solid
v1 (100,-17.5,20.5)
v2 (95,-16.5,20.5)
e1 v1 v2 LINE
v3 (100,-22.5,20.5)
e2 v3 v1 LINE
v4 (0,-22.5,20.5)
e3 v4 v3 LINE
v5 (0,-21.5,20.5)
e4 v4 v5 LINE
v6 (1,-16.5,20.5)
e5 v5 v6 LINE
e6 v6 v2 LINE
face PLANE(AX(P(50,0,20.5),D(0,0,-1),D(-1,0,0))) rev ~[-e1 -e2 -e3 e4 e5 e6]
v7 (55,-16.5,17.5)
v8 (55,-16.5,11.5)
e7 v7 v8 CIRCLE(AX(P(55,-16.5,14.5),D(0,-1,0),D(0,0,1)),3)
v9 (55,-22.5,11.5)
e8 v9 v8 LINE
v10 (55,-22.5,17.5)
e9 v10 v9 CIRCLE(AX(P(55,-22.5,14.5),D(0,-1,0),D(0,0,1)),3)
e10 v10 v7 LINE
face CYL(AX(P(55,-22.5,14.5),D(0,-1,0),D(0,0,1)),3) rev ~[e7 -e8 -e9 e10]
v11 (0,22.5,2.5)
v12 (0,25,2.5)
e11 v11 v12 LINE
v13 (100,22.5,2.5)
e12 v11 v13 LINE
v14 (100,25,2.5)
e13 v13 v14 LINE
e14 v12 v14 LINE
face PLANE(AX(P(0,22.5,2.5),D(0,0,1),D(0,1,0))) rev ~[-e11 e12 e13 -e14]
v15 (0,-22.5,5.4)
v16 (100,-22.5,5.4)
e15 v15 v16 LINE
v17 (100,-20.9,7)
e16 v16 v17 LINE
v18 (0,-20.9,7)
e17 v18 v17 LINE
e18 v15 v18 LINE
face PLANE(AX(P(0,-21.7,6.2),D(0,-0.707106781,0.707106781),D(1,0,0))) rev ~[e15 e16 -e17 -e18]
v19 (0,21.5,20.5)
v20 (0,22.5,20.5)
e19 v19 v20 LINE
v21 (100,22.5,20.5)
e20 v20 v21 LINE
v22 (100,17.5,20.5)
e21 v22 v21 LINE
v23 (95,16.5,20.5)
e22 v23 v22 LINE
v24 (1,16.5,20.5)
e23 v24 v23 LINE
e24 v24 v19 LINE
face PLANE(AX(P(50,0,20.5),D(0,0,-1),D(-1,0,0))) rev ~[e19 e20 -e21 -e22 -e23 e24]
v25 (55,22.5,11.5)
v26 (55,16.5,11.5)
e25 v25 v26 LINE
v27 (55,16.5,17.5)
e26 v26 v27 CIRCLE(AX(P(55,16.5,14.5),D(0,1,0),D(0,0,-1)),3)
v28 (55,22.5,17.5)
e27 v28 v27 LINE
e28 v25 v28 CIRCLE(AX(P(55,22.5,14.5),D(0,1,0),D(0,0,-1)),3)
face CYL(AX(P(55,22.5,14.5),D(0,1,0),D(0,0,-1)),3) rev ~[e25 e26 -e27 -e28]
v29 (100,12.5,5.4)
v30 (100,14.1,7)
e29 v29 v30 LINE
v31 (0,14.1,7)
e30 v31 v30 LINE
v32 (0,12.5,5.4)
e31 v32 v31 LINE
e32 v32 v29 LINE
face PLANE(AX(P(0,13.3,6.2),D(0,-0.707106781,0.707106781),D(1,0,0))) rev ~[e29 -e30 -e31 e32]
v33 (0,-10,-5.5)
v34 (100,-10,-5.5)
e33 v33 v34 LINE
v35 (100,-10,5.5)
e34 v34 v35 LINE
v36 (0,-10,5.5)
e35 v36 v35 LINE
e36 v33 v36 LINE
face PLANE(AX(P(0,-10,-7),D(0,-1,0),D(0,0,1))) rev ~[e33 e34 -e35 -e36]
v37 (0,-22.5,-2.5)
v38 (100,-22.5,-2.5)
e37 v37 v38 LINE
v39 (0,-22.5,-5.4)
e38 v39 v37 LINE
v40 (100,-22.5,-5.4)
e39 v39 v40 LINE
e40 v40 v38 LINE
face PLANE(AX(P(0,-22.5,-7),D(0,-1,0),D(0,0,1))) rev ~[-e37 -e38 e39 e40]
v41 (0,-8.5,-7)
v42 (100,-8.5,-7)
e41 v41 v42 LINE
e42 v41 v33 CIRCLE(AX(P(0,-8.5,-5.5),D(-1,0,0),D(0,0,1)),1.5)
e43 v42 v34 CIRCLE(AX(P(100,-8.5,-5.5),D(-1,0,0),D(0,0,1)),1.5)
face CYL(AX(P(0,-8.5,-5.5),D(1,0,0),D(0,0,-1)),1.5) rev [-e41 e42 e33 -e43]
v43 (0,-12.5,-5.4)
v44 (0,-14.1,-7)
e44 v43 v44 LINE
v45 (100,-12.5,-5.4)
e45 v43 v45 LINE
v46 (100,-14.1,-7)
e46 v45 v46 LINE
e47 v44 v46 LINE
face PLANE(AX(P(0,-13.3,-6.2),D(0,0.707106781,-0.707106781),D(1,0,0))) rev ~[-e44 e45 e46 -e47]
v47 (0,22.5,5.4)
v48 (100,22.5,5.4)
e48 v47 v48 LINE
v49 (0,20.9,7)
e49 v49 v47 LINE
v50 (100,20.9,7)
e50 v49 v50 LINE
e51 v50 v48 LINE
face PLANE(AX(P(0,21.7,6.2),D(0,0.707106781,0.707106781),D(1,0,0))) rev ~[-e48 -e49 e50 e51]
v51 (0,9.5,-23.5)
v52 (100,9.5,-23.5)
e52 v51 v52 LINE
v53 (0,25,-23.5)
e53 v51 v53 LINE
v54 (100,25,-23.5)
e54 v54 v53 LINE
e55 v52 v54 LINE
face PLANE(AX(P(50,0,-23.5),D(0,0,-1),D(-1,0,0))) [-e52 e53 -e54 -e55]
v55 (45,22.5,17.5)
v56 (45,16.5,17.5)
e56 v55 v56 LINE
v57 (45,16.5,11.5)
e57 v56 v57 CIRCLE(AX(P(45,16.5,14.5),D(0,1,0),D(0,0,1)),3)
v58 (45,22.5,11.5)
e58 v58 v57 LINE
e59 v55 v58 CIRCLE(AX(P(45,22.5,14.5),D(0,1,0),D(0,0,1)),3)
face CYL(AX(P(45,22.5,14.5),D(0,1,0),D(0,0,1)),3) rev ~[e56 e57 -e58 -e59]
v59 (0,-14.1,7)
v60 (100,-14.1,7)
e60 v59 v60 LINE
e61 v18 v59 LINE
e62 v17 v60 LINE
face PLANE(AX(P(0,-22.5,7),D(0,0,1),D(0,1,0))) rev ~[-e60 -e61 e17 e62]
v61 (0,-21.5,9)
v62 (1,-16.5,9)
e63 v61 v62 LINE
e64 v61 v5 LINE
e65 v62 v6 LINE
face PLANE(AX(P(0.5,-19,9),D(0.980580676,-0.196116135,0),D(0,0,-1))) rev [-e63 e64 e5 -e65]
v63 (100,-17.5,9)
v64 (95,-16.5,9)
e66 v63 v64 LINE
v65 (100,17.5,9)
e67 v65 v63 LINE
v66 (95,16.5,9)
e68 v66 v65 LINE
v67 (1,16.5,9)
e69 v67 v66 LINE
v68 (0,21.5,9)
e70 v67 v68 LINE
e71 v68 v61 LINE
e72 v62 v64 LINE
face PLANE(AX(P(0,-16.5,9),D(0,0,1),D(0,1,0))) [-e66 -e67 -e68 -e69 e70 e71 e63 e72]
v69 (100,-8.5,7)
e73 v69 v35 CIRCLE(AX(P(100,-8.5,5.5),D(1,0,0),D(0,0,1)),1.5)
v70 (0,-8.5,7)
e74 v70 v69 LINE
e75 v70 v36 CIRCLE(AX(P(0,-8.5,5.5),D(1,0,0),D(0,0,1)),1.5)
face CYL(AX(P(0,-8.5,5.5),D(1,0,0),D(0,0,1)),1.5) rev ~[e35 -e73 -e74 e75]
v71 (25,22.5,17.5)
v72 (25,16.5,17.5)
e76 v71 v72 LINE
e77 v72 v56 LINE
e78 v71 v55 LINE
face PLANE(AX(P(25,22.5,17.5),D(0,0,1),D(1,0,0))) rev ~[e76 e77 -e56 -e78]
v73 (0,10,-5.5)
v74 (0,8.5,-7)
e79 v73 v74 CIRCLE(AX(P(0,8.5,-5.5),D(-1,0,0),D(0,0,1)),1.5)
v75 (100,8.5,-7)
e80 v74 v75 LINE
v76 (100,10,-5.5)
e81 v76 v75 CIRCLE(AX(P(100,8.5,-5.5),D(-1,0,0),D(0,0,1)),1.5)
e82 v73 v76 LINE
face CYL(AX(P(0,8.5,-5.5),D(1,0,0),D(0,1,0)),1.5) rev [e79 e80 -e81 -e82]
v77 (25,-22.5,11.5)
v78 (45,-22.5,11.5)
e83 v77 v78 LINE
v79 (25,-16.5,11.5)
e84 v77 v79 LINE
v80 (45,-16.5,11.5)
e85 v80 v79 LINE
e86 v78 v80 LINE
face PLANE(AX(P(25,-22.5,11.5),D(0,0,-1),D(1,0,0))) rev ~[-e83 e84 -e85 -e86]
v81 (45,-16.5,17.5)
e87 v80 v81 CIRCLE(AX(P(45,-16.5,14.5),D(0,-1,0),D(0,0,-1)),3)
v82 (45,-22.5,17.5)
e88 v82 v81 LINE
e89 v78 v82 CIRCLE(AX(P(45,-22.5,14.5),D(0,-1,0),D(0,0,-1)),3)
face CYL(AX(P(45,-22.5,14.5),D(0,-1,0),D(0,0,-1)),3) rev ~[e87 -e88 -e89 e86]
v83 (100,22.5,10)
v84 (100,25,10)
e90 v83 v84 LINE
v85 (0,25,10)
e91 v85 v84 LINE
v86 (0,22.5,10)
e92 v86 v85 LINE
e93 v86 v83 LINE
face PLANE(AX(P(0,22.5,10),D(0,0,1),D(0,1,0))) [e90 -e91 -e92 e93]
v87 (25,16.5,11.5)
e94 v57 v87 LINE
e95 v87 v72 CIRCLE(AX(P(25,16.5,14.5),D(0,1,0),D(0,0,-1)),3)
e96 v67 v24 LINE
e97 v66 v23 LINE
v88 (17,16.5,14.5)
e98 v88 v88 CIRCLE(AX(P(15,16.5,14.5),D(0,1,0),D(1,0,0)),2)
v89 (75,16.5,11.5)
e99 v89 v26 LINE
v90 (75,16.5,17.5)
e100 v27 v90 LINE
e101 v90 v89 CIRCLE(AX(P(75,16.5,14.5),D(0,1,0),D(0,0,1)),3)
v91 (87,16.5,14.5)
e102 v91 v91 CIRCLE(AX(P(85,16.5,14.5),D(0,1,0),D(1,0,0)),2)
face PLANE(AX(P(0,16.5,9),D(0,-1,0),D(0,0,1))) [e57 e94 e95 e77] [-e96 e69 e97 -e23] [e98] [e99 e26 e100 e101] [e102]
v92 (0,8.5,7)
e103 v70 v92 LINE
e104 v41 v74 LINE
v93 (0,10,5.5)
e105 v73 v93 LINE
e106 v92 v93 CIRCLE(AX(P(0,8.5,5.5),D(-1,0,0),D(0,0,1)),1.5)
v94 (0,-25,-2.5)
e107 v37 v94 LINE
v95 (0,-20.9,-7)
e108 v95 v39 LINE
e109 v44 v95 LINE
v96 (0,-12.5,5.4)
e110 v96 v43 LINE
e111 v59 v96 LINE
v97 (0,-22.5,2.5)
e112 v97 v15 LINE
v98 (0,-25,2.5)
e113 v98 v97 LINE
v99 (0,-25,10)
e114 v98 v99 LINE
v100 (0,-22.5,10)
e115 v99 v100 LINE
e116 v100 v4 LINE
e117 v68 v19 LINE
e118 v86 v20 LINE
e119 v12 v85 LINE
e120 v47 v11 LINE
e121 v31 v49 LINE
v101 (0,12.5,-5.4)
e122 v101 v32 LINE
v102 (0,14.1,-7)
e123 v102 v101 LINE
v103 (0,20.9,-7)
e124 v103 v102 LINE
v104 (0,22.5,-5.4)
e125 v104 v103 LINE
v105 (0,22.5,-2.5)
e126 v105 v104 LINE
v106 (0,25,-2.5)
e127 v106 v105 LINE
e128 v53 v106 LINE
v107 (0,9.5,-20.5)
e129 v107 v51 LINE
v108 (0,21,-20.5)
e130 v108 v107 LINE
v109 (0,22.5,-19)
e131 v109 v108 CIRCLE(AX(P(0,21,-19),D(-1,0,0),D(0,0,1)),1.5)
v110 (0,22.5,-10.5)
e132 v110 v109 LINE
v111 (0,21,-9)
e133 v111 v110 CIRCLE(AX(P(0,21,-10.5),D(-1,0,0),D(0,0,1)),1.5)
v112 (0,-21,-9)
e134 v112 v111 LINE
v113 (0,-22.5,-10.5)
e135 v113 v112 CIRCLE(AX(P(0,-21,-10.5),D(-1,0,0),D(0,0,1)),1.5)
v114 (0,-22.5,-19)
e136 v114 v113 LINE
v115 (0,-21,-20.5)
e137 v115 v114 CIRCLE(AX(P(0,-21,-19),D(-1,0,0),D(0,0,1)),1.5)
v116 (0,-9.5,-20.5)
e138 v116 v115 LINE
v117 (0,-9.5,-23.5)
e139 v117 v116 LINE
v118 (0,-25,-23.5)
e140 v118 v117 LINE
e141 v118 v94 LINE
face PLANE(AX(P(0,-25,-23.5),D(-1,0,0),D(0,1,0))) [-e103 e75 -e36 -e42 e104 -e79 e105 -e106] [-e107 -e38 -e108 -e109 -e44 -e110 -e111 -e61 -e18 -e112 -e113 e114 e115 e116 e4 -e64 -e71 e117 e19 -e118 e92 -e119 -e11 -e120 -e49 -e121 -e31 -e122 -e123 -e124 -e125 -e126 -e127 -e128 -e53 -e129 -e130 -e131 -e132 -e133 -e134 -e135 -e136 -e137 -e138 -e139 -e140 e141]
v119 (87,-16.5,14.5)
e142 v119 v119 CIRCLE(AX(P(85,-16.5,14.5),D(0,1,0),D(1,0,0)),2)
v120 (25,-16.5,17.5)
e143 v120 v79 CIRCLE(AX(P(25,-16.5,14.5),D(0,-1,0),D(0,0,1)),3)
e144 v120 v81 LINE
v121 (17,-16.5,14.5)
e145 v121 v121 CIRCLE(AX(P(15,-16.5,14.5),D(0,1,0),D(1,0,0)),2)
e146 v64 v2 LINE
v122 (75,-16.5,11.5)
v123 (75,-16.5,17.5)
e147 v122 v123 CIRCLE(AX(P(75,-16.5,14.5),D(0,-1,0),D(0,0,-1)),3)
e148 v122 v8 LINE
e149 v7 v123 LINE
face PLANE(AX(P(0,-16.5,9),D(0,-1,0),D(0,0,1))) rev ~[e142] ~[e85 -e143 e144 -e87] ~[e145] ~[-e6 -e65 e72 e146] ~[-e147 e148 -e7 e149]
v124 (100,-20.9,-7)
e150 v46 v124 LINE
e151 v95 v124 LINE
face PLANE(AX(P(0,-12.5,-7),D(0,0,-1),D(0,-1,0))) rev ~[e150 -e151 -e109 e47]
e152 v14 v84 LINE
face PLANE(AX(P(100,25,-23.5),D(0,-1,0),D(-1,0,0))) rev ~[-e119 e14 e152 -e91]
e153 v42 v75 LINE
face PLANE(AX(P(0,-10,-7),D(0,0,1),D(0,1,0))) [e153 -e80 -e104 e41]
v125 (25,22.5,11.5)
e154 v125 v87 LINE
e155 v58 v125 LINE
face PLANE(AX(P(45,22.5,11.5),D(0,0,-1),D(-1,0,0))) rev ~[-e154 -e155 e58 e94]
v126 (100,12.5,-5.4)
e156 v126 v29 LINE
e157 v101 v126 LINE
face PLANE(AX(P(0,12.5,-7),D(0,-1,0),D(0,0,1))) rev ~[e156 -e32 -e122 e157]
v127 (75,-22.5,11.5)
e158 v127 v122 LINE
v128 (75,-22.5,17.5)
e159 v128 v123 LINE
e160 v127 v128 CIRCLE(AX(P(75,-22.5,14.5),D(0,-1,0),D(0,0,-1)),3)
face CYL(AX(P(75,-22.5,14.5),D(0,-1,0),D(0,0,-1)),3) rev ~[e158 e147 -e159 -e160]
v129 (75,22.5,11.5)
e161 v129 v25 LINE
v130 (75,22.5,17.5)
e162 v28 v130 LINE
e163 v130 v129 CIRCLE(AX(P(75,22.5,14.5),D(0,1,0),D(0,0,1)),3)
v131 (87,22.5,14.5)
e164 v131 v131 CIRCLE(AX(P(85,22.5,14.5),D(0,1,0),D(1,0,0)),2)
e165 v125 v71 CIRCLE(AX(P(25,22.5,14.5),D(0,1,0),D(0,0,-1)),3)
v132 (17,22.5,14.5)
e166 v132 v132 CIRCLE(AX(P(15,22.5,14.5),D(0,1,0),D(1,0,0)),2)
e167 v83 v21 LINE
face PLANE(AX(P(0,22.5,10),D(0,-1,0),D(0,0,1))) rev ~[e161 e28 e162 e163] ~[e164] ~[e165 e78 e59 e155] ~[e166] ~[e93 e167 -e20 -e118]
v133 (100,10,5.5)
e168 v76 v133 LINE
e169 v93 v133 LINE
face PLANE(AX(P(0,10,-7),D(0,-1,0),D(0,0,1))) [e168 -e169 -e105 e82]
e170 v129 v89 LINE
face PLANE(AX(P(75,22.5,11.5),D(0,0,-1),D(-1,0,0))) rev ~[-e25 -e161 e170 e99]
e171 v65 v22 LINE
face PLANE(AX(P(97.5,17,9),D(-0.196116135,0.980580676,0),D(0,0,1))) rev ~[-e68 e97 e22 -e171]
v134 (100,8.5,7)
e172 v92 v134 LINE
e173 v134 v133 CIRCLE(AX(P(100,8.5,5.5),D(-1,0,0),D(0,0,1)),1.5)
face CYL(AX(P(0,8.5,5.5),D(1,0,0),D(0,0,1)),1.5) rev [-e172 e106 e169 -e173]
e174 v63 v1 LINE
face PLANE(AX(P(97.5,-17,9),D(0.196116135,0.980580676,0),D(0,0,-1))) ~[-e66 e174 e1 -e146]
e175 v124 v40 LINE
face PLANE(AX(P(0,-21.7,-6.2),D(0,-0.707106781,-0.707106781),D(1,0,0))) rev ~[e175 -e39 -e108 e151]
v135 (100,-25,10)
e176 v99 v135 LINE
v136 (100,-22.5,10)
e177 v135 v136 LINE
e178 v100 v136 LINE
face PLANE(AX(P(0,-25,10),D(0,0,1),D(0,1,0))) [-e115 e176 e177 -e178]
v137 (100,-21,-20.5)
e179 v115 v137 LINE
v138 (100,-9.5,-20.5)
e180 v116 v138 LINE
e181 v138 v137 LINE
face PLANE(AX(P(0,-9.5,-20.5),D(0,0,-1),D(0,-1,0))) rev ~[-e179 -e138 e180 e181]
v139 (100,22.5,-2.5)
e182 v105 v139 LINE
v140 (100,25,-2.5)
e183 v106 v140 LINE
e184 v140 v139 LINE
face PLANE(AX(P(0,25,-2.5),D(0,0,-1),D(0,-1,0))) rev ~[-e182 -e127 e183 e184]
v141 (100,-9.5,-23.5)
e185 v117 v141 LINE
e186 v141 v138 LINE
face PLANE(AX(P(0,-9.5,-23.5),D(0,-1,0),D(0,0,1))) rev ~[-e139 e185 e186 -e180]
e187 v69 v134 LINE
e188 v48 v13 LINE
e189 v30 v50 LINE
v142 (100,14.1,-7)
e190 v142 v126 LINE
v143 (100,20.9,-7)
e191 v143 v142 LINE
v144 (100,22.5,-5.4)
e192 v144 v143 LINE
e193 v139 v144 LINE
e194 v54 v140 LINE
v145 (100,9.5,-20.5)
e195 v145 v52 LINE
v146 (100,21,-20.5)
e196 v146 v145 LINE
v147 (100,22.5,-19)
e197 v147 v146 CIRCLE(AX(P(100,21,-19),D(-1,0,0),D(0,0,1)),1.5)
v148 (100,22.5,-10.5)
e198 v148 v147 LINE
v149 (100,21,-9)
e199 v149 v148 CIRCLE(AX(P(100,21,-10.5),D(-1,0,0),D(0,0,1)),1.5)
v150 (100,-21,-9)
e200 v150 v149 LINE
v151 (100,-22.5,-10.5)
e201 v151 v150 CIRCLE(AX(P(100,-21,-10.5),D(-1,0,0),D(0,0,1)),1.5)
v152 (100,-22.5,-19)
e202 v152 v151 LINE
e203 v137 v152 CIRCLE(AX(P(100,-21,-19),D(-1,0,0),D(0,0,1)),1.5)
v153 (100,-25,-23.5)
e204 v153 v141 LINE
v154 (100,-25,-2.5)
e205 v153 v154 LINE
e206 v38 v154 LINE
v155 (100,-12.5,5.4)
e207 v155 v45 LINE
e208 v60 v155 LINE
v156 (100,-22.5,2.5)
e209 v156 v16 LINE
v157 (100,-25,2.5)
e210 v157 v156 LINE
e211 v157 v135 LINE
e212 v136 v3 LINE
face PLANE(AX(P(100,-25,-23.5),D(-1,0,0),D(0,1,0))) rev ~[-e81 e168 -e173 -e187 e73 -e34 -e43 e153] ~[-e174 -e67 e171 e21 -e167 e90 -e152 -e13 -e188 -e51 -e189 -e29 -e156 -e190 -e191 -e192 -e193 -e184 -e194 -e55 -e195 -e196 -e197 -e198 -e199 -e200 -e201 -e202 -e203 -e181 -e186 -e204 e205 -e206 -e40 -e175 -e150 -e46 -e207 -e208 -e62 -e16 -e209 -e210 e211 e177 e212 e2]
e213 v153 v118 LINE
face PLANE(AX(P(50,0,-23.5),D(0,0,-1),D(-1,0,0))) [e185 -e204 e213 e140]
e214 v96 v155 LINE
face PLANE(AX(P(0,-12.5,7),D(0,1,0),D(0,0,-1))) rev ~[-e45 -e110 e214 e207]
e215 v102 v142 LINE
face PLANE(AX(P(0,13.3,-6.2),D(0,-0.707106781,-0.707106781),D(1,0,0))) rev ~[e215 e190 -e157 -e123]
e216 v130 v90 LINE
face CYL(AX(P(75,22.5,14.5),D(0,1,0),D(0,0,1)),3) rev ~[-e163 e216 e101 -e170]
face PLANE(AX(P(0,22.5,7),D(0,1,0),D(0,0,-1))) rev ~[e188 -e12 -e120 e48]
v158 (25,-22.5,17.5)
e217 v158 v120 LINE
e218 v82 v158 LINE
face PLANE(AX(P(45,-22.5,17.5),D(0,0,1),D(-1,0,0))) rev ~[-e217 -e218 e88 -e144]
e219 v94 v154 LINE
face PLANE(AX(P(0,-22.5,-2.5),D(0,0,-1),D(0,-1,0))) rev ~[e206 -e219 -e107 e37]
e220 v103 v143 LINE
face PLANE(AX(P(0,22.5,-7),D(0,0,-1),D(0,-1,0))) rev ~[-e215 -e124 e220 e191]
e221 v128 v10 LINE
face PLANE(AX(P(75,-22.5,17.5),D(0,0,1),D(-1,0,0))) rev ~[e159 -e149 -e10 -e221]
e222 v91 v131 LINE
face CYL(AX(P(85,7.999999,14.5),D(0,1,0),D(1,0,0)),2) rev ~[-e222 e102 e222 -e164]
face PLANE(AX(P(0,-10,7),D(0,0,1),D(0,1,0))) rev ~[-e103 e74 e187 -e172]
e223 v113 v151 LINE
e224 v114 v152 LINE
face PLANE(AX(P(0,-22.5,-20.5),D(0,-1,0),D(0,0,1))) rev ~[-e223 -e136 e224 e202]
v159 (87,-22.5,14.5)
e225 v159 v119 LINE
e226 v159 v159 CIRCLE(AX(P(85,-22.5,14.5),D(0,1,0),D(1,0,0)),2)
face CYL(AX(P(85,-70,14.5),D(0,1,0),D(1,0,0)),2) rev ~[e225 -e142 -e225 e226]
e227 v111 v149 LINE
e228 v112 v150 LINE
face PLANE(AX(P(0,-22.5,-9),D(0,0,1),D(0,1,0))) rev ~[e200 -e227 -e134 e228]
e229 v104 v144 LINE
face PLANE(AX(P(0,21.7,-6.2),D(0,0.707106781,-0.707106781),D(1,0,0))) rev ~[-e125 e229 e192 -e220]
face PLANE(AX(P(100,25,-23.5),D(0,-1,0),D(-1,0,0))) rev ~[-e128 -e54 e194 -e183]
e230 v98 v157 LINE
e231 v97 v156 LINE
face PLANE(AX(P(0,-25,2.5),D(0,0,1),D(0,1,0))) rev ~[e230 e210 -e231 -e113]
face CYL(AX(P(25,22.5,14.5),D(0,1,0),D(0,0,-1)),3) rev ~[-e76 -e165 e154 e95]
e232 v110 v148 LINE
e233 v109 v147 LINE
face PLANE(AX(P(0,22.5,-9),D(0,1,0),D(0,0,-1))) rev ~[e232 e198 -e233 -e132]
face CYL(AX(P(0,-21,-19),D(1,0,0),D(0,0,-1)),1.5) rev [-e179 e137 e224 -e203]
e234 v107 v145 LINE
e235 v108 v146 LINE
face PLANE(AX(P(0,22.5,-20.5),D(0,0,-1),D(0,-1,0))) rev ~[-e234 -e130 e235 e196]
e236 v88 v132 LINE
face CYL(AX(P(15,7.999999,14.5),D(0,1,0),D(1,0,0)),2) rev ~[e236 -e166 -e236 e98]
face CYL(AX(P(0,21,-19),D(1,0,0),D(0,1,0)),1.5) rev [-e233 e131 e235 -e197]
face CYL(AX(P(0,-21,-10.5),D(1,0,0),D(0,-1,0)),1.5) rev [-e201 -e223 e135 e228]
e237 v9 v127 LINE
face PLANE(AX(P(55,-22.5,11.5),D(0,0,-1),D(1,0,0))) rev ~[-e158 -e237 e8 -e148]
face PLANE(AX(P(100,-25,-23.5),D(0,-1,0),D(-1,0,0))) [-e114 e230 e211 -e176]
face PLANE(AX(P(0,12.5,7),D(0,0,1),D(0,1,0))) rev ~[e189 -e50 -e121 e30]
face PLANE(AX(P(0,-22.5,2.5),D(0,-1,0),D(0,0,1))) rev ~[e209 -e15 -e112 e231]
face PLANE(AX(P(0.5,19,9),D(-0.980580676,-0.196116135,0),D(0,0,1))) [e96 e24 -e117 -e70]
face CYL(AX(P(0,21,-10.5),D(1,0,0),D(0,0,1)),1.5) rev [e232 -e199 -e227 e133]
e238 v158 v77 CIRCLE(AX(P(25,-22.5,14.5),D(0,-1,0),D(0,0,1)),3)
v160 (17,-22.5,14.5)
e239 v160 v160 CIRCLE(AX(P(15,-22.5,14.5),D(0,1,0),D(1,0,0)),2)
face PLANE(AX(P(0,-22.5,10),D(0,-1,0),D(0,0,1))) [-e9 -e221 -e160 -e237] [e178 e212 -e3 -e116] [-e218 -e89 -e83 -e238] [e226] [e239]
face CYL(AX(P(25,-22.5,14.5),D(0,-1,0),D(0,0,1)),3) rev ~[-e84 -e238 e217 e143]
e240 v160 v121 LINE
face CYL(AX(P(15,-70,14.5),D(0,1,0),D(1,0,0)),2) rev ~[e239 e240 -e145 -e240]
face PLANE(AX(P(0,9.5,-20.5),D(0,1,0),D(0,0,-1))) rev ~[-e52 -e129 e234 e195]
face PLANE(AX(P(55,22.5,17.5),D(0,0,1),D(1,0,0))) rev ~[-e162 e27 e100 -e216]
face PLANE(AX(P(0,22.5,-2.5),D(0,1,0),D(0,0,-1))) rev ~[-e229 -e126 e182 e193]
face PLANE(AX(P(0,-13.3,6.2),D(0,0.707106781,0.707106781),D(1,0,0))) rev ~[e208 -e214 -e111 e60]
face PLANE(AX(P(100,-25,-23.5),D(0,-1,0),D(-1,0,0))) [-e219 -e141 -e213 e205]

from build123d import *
from OCP.BRepFilletAPI import BRepFilletAPI_MakeChamfer

# Parameters (mm, degrees)
SCHIZZO1_W                   = 100
SCHIZZO1_H                   = 50
ESTRUSIONE_ESTRUSIONE1_DEPTH = 44
SCHIZZO2_W                   = 10.499999851
SCHIZZO2_H                   = 2.500000367
TAGLIO_ESTRUSIONE1_DEPTH     = 106.722514159
TAGLIO_ESTRUSIONE2_DEPTH     = 106.722514247
TAGLIO_ESTRUSIONE3_DEPTH     = 106.722514247
TAGLIO_ESTRUSIONE4_DEPTH     = 106.722514247
SCHIZZO6_W                   = 10.499999851
SCHIZZO6_H                   = 2.500000367
TAGLIO_ESTRUSIONE5_DEPTH     = 106.722514247
SCHIZZO7_W                   = 11.49999996
SCHIZZO7_H                   = 32.999999858
TAGLIO_ESTRUSIONE6_DEPTH     = 106.722514247
TAGLIO_ESTRUSIONE7_REACH     = 115.175
TAGLIO_ESTRUSIONE8_REACH     = 115.175
TAGLIO_ESTRUSIONE9_REACH     = 115.175
TAGLIO_ESTRUSIONE10_REACH    = 115.175
SCHIZZO12_W                  = 14.000000092
SCHIZZO12_H                  = 20
TAGLIO_ESTRUSIONE11_DEPTH    = 106.722514247
FORO_4_0_4_1_D               = 4
FORO_4_0_4_1_DEPTH           = 8.500000443
FORO_4_0_4_2_D               = 4
FORO_4_0_4_2_DEPTH           = 47.500000379
SMUSSO1_SIZE                 = 5
SMUSSO1_SIZE2                = 1
SMUSSO2_SIZE                 = 1.6
SMUSSO3_SIZE                 = 1
SMUSSO3_SIZE2                = 5
RACCORDO1_R                  = 1.5


with BuildPart() as part:
    # Schizzo1 → Estrusione-Estrusione1 (new body)
    with BuildSketch(Plane(origin=(0, 0, -23.5), x_dir=(-1, 0, 0), z_dir=(0, 0, -1))):
        with Locations((-50, 0)):
            Rectangle(SCHIZZO1_W, SCHIZZO1_H)
    extrude(amount=-ESTRUSIONE_ESTRUSIONE1_DEPTH)

    # Schizzo2 → Taglio-Estrusione1 (cut, through all)
    with BuildSketch(Plane.ZY):
        with Locations((15.250000075, -23.750000189)):
            Rectangle(SCHIZZO2_W, SCHIZZO2_H)
    extrude(amount=-TAGLIO_ESTRUSIONE1_DEPTH, mode=Mode.SUBTRACT)

    # Schizzo3 → Taglio-Estrusione2 (cut, through all)
    with BuildSketch(Plane.ZY):
        Polygon((-2.5, -25), (2.5, -25), (2.5, -22.5), (7, -22.5), (7, -12.5), (-7, -12.5), (-7, -22.5), (-2.5, -22.5), align=None)
    extrude(amount=-TAGLIO_ESTRUSIONE2_DEPTH, mode=Mode.SUBTRACT)

    # Schizzo4 → Taglio-Estrusione3 (cut, through all)
    with BuildSketch(Plane.ZY):
        Polygon((-23.5, 9.5), (-23.5, -9.5), (-20.5, -9.5), (-20.5, -22.5), (-9, -22.5), (-9, 22.5), (-20.5, 22.5), (-20.5, 9.5), align=None)
    extrude(amount=-TAGLIO_ESTRUSIONE3_DEPTH, mode=Mode.SUBTRACT)

    # Schizzo5 → Taglio-Estrusione4 (cut, through all)
    with BuildSketch(Plane.ZY):
        Polygon((2.5, 25), (-2.5, 25), (-2.5, 22.5), (-7, 22.5), (-7, 12.5), (7, 12.5), (7, 22.5), (2.5, 22.5), align=None)
    extrude(amount=-TAGLIO_ESTRUSIONE4_DEPTH, mode=Mode.SUBTRACT)

    # Schizzo6 → Taglio-Estrusione5 (cut, through all)
    with BuildSketch(Plane.ZY):
        with Locations((15.250000075, 23.750000189)):
            Rectangle(SCHIZZO6_W, SCHIZZO6_H)
    extrude(amount=-TAGLIO_ESTRUSIONE5_DEPTH, mode=Mode.SUBTRACT)

    # Schizzo7 → Taglio-Estrusione6 (cut, through all)
    with BuildSketch(Plane.ZY):
        with Locations((14.75000002, 0)):
            Rectangle(SCHIZZO7_W, SCHIZZO7_H)
    extrude(amount=-TAGLIO_ESTRUSIONE6_DEPTH, mode=Mode.SUBTRACT)

    # Schizzo8 → Taglio-Estrusione7 (cut, up to next)
    with BuildSketch(Plane(origin=(0, 22.500000006, 0), x_dir=(-1, 0, 0), z_dir=(0, 1, 0)), mode=Mode.PRIVATE) as taglio_estrusione7_sk1:
        with BuildLine():
            Line((-75, 11.500000046), (-55, 11.500000046))
            ThreePointArc((-55, 11.500000046), (-52, 14.500000046), (-55, 17.500000046))
            Line((-55, 17.500000046), (-75, 17.500000046))
            ThreePointArc((-75, 17.500000046), (-78, 14.500000046), (-75, 11.500000046))
        make_face()
    taglio_estrusione7_tool1 = extrude(taglio_estrusione7_sk1.sketch, amount=-TAGLIO_ESTRUSIONE7_REACH, mode=Mode.PRIVATE) & part.part
    add(taglio_estrusione7_tool1.solids().sort_by_distance((65, 22.5, 14.5))[0], mode=Mode.SUBTRACT)

    # Schizzo9 → Taglio-Estrusione8 (cut, up to next)
    with BuildSketch(Plane(origin=(0, 22.500000006, 0), x_dir=(-1, 0, 0), z_dir=(0, 1, 0)), mode=Mode.PRIVATE) as taglio_estrusione8_sk1:
        with BuildLine():
            Line((-25, 17.500000046), (-45, 17.500000046))
            ThreePointArc((-45, 17.500000046), (-48, 14.500000046), (-45, 11.500000046))
            Line((-45, 11.500000046), (-25, 11.500000046))
            ThreePointArc((-25, 11.500000046), (-22, 14.500000046), (-25, 17.500000046))
        make_face()
    taglio_estrusione8_tool1 = extrude(taglio_estrusione8_sk1.sketch, amount=-TAGLIO_ESTRUSIONE8_REACH, mode=Mode.PRIVATE) & part.part
    add(taglio_estrusione8_tool1.solids().sort_by_distance((35, 22.5, 14.5))[0], mode=Mode.SUBTRACT)

    # Schizzo10 → Taglio-Estrusione9 (cut, up to next)
    with BuildSketch(Plane.XZ.offset(22.500000006), mode=Mode.PRIVATE) as taglio_estrusione9_sk1:
        with BuildLine():
            Line((55, 11.500000046), (75, 11.500000046))
            ThreePointArc((75, 11.500000046), (78, 14.500000046), (75, 17.500000046))
            Line((75, 17.500000046), (55, 17.500000046))
            ThreePointArc((55, 17.500000046), (52, 14.500000046), (55, 11.500000046))
        make_face()
    taglio_estrusione9_tool1 = extrude(taglio_estrusione9_sk1.sketch, amount=-TAGLIO_ESTRUSIONE9_REACH, mode=Mode.PRIVATE) & part.part
    add(taglio_estrusione9_tool1.solids().sort_by_distance((65, -22.5, 14.5))[0], mode=Mode.SUBTRACT)

    # Schizzo11 → Taglio-Estrusione10 (cut, up to next)
    with BuildSketch(Plane.XZ.offset(22.500000006), mode=Mode.PRIVATE) as taglio_estrusione10_sk1:
        with BuildLine():
            Line((45, 17.500000046), (25, 17.500000046))
            ThreePointArc((25, 17.500000046), (22, 14.500000046), (25, 11.500000046))
            Line((25, 11.500000046), (45, 11.500000046))
            ThreePointArc((45, 11.500000046), (48, 14.500000046), (45, 17.500000046))
        make_face()
    taglio_estrusione10_tool1 = extrude(taglio_estrusione10_sk1.sketch, amount=-TAGLIO_ESTRUSIONE10_REACH, mode=Mode.PRIVATE) & part.part
    add(taglio_estrusione10_tool1.solids().sort_by_distance((35, -22.5, 14.5))[0], mode=Mode.SUBTRACT)

    # Schizzo12 → Taglio-Estrusione11 (cut, through all)
    with BuildSketch(Plane.ZY):
        Rectangle(SCHIZZO12_W, SCHIZZO12_H)
    extrude(amount=-TAGLIO_ESTRUSIONE11_DEPTH, mode=Mode.SUBTRACT)

    # Foro Ø4.0 (4)-1
    with Locations(Plane(origin=(0, 16.499999929, 0), x_dir=(-1, 0, 0), z_dir=(0, -1, 0))):
        with Locations((-85, -14.500000203), (-15, -14.500000203)):
            Hole(FORO_4_0_4_1_D / 2, depth=FORO_4_0_4_1_DEPTH)

    # Foro Ø4.0 (4)-2
    with Locations(Plane(origin=(0, -22.500000006, 0), x_dir=(-1, 0, 0), z_dir=(0, -1, 0))):
        with Locations((-85, -14.5), (-15, -14.5)):
            Hole(FORO_4_0_4_2_D / 2, depth=FORO_4_0_4_2_DEPTH)

    # Smusso1: one chamfer whose edges measure the first distance from different faces: ONE call of the kernel's chamfer builder (chamfer() names one face for all edges)
    smusso1_edges_1 = [part.edges().sort_by_distance(p)[0] for p in [
        (100, 16.499999929, 14.75000002),
    ]]
    smusso1_side_1 = [part.faces().sort_by_distance(p)[0] for p in [
        (50, 16.499999929, 14.847088678),
    ]]
    smusso1_edges_2 = [part.edges().sort_by_distance(p)[0] for p in [
        (0, -16.499999929, 14.75000002),
    ]]
    smusso1_side_2 = [part.faces().sort_by_distance(p)[0] for p in [
        (0, -17.25, -22.833966968),
    ]]
    smusso1 = BRepFilletAPI_MakeChamfer(part.part.solid().wrapped)
    for e in smusso1_edges_1:
        smusso1.Add(SMUSSO1_SIZE, SMUSSO1_SIZE2, e.wrapped, smusso1_side_1[0].wrapped)  # the first distance lies on this face
    for e in smusso1_edges_2:
        smusso1.Add(SMUSSO1_SIZE, SMUSSO1_SIZE2, e.wrapped, smusso1_side_2[0].wrapped)  # the first distance lies on this face
    add(Compound.cast(smusso1.Shape()), mode=Mode.REPLACE)

    # Smusso2
    smusso2_edges = [part.edges().sort_by_distance(p)[0] for p in [
        (50, 12.5, 7),
        (50, 12.5, -7),
        (50, 22.5, -7),
        (50, -22.5, -7),
        (50, -12.5, -7),
        (50, -12.5, 7),
        (50, -22.5, 7),
        (50, 22.5, 7),
    ]]
    chamfer(smusso2_edges, length=SMUSSO2_SIZE)

    # Smusso3: one chamfer whose edges measure the first distance from different faces: ONE call of the kernel's chamfer builder (chamfer() names one face for all edges)
    smusso3_edges_1 = [part.edges().sort_by_distance(p)[0] for p in [
        (100, -16.499999929, 14.75000002),
    ]]
    smusso3_side_1 = [part.faces().sort_by_distance(p)[0] for p in [
        (100, -23.166033032, 3.95),
    ]]
    smusso3_edges_2 = [part.edges().sort_by_distance(p)[0] for p in [
        (0, 16.499999929, 14.75000002),
    ]]
    smusso3_side_2 = [part.faces().sort_by_distance(p)[0] for p in [
        (47.5, 16.499999929, 19.543064788),
    ]]
    smusso3 = BRepFilletAPI_MakeChamfer(part.part.solid().wrapped)
    for e in smusso3_edges_1:
        smusso3.Add(SMUSSO3_SIZE, SMUSSO3_SIZE2, e.wrapped, smusso3_side_1[0].wrapped)  # the first distance lies on this face
    for e in smusso3_edges_2:
        smusso3.Add(SMUSSO3_SIZE, SMUSSO3_SIZE2, e.wrapped, smusso3_side_2[0].wrapped)  # the first distance lies on this face
    add(Compound.cast(smusso3.Shape()), mode=Mode.REPLACE)

    # Raccordo1
    raccordo1_edges = [part.edges().sort_by_distance(p)[0] for p in [
        (50, -10, 7.000000046),
        (50, -10, -7.000000046),
        (50, 10, -7.000000046),
        (50, 10, 7.000000046),
        (50, 22.5, -20.5),
        (50, 22.5, -9),
        (50, -22.5, -9),
        (50, -22.5, -20.5),
    ]]
    fillet(raccordo1_edges, radius=RACCORDO1_R)


solid = part.part
